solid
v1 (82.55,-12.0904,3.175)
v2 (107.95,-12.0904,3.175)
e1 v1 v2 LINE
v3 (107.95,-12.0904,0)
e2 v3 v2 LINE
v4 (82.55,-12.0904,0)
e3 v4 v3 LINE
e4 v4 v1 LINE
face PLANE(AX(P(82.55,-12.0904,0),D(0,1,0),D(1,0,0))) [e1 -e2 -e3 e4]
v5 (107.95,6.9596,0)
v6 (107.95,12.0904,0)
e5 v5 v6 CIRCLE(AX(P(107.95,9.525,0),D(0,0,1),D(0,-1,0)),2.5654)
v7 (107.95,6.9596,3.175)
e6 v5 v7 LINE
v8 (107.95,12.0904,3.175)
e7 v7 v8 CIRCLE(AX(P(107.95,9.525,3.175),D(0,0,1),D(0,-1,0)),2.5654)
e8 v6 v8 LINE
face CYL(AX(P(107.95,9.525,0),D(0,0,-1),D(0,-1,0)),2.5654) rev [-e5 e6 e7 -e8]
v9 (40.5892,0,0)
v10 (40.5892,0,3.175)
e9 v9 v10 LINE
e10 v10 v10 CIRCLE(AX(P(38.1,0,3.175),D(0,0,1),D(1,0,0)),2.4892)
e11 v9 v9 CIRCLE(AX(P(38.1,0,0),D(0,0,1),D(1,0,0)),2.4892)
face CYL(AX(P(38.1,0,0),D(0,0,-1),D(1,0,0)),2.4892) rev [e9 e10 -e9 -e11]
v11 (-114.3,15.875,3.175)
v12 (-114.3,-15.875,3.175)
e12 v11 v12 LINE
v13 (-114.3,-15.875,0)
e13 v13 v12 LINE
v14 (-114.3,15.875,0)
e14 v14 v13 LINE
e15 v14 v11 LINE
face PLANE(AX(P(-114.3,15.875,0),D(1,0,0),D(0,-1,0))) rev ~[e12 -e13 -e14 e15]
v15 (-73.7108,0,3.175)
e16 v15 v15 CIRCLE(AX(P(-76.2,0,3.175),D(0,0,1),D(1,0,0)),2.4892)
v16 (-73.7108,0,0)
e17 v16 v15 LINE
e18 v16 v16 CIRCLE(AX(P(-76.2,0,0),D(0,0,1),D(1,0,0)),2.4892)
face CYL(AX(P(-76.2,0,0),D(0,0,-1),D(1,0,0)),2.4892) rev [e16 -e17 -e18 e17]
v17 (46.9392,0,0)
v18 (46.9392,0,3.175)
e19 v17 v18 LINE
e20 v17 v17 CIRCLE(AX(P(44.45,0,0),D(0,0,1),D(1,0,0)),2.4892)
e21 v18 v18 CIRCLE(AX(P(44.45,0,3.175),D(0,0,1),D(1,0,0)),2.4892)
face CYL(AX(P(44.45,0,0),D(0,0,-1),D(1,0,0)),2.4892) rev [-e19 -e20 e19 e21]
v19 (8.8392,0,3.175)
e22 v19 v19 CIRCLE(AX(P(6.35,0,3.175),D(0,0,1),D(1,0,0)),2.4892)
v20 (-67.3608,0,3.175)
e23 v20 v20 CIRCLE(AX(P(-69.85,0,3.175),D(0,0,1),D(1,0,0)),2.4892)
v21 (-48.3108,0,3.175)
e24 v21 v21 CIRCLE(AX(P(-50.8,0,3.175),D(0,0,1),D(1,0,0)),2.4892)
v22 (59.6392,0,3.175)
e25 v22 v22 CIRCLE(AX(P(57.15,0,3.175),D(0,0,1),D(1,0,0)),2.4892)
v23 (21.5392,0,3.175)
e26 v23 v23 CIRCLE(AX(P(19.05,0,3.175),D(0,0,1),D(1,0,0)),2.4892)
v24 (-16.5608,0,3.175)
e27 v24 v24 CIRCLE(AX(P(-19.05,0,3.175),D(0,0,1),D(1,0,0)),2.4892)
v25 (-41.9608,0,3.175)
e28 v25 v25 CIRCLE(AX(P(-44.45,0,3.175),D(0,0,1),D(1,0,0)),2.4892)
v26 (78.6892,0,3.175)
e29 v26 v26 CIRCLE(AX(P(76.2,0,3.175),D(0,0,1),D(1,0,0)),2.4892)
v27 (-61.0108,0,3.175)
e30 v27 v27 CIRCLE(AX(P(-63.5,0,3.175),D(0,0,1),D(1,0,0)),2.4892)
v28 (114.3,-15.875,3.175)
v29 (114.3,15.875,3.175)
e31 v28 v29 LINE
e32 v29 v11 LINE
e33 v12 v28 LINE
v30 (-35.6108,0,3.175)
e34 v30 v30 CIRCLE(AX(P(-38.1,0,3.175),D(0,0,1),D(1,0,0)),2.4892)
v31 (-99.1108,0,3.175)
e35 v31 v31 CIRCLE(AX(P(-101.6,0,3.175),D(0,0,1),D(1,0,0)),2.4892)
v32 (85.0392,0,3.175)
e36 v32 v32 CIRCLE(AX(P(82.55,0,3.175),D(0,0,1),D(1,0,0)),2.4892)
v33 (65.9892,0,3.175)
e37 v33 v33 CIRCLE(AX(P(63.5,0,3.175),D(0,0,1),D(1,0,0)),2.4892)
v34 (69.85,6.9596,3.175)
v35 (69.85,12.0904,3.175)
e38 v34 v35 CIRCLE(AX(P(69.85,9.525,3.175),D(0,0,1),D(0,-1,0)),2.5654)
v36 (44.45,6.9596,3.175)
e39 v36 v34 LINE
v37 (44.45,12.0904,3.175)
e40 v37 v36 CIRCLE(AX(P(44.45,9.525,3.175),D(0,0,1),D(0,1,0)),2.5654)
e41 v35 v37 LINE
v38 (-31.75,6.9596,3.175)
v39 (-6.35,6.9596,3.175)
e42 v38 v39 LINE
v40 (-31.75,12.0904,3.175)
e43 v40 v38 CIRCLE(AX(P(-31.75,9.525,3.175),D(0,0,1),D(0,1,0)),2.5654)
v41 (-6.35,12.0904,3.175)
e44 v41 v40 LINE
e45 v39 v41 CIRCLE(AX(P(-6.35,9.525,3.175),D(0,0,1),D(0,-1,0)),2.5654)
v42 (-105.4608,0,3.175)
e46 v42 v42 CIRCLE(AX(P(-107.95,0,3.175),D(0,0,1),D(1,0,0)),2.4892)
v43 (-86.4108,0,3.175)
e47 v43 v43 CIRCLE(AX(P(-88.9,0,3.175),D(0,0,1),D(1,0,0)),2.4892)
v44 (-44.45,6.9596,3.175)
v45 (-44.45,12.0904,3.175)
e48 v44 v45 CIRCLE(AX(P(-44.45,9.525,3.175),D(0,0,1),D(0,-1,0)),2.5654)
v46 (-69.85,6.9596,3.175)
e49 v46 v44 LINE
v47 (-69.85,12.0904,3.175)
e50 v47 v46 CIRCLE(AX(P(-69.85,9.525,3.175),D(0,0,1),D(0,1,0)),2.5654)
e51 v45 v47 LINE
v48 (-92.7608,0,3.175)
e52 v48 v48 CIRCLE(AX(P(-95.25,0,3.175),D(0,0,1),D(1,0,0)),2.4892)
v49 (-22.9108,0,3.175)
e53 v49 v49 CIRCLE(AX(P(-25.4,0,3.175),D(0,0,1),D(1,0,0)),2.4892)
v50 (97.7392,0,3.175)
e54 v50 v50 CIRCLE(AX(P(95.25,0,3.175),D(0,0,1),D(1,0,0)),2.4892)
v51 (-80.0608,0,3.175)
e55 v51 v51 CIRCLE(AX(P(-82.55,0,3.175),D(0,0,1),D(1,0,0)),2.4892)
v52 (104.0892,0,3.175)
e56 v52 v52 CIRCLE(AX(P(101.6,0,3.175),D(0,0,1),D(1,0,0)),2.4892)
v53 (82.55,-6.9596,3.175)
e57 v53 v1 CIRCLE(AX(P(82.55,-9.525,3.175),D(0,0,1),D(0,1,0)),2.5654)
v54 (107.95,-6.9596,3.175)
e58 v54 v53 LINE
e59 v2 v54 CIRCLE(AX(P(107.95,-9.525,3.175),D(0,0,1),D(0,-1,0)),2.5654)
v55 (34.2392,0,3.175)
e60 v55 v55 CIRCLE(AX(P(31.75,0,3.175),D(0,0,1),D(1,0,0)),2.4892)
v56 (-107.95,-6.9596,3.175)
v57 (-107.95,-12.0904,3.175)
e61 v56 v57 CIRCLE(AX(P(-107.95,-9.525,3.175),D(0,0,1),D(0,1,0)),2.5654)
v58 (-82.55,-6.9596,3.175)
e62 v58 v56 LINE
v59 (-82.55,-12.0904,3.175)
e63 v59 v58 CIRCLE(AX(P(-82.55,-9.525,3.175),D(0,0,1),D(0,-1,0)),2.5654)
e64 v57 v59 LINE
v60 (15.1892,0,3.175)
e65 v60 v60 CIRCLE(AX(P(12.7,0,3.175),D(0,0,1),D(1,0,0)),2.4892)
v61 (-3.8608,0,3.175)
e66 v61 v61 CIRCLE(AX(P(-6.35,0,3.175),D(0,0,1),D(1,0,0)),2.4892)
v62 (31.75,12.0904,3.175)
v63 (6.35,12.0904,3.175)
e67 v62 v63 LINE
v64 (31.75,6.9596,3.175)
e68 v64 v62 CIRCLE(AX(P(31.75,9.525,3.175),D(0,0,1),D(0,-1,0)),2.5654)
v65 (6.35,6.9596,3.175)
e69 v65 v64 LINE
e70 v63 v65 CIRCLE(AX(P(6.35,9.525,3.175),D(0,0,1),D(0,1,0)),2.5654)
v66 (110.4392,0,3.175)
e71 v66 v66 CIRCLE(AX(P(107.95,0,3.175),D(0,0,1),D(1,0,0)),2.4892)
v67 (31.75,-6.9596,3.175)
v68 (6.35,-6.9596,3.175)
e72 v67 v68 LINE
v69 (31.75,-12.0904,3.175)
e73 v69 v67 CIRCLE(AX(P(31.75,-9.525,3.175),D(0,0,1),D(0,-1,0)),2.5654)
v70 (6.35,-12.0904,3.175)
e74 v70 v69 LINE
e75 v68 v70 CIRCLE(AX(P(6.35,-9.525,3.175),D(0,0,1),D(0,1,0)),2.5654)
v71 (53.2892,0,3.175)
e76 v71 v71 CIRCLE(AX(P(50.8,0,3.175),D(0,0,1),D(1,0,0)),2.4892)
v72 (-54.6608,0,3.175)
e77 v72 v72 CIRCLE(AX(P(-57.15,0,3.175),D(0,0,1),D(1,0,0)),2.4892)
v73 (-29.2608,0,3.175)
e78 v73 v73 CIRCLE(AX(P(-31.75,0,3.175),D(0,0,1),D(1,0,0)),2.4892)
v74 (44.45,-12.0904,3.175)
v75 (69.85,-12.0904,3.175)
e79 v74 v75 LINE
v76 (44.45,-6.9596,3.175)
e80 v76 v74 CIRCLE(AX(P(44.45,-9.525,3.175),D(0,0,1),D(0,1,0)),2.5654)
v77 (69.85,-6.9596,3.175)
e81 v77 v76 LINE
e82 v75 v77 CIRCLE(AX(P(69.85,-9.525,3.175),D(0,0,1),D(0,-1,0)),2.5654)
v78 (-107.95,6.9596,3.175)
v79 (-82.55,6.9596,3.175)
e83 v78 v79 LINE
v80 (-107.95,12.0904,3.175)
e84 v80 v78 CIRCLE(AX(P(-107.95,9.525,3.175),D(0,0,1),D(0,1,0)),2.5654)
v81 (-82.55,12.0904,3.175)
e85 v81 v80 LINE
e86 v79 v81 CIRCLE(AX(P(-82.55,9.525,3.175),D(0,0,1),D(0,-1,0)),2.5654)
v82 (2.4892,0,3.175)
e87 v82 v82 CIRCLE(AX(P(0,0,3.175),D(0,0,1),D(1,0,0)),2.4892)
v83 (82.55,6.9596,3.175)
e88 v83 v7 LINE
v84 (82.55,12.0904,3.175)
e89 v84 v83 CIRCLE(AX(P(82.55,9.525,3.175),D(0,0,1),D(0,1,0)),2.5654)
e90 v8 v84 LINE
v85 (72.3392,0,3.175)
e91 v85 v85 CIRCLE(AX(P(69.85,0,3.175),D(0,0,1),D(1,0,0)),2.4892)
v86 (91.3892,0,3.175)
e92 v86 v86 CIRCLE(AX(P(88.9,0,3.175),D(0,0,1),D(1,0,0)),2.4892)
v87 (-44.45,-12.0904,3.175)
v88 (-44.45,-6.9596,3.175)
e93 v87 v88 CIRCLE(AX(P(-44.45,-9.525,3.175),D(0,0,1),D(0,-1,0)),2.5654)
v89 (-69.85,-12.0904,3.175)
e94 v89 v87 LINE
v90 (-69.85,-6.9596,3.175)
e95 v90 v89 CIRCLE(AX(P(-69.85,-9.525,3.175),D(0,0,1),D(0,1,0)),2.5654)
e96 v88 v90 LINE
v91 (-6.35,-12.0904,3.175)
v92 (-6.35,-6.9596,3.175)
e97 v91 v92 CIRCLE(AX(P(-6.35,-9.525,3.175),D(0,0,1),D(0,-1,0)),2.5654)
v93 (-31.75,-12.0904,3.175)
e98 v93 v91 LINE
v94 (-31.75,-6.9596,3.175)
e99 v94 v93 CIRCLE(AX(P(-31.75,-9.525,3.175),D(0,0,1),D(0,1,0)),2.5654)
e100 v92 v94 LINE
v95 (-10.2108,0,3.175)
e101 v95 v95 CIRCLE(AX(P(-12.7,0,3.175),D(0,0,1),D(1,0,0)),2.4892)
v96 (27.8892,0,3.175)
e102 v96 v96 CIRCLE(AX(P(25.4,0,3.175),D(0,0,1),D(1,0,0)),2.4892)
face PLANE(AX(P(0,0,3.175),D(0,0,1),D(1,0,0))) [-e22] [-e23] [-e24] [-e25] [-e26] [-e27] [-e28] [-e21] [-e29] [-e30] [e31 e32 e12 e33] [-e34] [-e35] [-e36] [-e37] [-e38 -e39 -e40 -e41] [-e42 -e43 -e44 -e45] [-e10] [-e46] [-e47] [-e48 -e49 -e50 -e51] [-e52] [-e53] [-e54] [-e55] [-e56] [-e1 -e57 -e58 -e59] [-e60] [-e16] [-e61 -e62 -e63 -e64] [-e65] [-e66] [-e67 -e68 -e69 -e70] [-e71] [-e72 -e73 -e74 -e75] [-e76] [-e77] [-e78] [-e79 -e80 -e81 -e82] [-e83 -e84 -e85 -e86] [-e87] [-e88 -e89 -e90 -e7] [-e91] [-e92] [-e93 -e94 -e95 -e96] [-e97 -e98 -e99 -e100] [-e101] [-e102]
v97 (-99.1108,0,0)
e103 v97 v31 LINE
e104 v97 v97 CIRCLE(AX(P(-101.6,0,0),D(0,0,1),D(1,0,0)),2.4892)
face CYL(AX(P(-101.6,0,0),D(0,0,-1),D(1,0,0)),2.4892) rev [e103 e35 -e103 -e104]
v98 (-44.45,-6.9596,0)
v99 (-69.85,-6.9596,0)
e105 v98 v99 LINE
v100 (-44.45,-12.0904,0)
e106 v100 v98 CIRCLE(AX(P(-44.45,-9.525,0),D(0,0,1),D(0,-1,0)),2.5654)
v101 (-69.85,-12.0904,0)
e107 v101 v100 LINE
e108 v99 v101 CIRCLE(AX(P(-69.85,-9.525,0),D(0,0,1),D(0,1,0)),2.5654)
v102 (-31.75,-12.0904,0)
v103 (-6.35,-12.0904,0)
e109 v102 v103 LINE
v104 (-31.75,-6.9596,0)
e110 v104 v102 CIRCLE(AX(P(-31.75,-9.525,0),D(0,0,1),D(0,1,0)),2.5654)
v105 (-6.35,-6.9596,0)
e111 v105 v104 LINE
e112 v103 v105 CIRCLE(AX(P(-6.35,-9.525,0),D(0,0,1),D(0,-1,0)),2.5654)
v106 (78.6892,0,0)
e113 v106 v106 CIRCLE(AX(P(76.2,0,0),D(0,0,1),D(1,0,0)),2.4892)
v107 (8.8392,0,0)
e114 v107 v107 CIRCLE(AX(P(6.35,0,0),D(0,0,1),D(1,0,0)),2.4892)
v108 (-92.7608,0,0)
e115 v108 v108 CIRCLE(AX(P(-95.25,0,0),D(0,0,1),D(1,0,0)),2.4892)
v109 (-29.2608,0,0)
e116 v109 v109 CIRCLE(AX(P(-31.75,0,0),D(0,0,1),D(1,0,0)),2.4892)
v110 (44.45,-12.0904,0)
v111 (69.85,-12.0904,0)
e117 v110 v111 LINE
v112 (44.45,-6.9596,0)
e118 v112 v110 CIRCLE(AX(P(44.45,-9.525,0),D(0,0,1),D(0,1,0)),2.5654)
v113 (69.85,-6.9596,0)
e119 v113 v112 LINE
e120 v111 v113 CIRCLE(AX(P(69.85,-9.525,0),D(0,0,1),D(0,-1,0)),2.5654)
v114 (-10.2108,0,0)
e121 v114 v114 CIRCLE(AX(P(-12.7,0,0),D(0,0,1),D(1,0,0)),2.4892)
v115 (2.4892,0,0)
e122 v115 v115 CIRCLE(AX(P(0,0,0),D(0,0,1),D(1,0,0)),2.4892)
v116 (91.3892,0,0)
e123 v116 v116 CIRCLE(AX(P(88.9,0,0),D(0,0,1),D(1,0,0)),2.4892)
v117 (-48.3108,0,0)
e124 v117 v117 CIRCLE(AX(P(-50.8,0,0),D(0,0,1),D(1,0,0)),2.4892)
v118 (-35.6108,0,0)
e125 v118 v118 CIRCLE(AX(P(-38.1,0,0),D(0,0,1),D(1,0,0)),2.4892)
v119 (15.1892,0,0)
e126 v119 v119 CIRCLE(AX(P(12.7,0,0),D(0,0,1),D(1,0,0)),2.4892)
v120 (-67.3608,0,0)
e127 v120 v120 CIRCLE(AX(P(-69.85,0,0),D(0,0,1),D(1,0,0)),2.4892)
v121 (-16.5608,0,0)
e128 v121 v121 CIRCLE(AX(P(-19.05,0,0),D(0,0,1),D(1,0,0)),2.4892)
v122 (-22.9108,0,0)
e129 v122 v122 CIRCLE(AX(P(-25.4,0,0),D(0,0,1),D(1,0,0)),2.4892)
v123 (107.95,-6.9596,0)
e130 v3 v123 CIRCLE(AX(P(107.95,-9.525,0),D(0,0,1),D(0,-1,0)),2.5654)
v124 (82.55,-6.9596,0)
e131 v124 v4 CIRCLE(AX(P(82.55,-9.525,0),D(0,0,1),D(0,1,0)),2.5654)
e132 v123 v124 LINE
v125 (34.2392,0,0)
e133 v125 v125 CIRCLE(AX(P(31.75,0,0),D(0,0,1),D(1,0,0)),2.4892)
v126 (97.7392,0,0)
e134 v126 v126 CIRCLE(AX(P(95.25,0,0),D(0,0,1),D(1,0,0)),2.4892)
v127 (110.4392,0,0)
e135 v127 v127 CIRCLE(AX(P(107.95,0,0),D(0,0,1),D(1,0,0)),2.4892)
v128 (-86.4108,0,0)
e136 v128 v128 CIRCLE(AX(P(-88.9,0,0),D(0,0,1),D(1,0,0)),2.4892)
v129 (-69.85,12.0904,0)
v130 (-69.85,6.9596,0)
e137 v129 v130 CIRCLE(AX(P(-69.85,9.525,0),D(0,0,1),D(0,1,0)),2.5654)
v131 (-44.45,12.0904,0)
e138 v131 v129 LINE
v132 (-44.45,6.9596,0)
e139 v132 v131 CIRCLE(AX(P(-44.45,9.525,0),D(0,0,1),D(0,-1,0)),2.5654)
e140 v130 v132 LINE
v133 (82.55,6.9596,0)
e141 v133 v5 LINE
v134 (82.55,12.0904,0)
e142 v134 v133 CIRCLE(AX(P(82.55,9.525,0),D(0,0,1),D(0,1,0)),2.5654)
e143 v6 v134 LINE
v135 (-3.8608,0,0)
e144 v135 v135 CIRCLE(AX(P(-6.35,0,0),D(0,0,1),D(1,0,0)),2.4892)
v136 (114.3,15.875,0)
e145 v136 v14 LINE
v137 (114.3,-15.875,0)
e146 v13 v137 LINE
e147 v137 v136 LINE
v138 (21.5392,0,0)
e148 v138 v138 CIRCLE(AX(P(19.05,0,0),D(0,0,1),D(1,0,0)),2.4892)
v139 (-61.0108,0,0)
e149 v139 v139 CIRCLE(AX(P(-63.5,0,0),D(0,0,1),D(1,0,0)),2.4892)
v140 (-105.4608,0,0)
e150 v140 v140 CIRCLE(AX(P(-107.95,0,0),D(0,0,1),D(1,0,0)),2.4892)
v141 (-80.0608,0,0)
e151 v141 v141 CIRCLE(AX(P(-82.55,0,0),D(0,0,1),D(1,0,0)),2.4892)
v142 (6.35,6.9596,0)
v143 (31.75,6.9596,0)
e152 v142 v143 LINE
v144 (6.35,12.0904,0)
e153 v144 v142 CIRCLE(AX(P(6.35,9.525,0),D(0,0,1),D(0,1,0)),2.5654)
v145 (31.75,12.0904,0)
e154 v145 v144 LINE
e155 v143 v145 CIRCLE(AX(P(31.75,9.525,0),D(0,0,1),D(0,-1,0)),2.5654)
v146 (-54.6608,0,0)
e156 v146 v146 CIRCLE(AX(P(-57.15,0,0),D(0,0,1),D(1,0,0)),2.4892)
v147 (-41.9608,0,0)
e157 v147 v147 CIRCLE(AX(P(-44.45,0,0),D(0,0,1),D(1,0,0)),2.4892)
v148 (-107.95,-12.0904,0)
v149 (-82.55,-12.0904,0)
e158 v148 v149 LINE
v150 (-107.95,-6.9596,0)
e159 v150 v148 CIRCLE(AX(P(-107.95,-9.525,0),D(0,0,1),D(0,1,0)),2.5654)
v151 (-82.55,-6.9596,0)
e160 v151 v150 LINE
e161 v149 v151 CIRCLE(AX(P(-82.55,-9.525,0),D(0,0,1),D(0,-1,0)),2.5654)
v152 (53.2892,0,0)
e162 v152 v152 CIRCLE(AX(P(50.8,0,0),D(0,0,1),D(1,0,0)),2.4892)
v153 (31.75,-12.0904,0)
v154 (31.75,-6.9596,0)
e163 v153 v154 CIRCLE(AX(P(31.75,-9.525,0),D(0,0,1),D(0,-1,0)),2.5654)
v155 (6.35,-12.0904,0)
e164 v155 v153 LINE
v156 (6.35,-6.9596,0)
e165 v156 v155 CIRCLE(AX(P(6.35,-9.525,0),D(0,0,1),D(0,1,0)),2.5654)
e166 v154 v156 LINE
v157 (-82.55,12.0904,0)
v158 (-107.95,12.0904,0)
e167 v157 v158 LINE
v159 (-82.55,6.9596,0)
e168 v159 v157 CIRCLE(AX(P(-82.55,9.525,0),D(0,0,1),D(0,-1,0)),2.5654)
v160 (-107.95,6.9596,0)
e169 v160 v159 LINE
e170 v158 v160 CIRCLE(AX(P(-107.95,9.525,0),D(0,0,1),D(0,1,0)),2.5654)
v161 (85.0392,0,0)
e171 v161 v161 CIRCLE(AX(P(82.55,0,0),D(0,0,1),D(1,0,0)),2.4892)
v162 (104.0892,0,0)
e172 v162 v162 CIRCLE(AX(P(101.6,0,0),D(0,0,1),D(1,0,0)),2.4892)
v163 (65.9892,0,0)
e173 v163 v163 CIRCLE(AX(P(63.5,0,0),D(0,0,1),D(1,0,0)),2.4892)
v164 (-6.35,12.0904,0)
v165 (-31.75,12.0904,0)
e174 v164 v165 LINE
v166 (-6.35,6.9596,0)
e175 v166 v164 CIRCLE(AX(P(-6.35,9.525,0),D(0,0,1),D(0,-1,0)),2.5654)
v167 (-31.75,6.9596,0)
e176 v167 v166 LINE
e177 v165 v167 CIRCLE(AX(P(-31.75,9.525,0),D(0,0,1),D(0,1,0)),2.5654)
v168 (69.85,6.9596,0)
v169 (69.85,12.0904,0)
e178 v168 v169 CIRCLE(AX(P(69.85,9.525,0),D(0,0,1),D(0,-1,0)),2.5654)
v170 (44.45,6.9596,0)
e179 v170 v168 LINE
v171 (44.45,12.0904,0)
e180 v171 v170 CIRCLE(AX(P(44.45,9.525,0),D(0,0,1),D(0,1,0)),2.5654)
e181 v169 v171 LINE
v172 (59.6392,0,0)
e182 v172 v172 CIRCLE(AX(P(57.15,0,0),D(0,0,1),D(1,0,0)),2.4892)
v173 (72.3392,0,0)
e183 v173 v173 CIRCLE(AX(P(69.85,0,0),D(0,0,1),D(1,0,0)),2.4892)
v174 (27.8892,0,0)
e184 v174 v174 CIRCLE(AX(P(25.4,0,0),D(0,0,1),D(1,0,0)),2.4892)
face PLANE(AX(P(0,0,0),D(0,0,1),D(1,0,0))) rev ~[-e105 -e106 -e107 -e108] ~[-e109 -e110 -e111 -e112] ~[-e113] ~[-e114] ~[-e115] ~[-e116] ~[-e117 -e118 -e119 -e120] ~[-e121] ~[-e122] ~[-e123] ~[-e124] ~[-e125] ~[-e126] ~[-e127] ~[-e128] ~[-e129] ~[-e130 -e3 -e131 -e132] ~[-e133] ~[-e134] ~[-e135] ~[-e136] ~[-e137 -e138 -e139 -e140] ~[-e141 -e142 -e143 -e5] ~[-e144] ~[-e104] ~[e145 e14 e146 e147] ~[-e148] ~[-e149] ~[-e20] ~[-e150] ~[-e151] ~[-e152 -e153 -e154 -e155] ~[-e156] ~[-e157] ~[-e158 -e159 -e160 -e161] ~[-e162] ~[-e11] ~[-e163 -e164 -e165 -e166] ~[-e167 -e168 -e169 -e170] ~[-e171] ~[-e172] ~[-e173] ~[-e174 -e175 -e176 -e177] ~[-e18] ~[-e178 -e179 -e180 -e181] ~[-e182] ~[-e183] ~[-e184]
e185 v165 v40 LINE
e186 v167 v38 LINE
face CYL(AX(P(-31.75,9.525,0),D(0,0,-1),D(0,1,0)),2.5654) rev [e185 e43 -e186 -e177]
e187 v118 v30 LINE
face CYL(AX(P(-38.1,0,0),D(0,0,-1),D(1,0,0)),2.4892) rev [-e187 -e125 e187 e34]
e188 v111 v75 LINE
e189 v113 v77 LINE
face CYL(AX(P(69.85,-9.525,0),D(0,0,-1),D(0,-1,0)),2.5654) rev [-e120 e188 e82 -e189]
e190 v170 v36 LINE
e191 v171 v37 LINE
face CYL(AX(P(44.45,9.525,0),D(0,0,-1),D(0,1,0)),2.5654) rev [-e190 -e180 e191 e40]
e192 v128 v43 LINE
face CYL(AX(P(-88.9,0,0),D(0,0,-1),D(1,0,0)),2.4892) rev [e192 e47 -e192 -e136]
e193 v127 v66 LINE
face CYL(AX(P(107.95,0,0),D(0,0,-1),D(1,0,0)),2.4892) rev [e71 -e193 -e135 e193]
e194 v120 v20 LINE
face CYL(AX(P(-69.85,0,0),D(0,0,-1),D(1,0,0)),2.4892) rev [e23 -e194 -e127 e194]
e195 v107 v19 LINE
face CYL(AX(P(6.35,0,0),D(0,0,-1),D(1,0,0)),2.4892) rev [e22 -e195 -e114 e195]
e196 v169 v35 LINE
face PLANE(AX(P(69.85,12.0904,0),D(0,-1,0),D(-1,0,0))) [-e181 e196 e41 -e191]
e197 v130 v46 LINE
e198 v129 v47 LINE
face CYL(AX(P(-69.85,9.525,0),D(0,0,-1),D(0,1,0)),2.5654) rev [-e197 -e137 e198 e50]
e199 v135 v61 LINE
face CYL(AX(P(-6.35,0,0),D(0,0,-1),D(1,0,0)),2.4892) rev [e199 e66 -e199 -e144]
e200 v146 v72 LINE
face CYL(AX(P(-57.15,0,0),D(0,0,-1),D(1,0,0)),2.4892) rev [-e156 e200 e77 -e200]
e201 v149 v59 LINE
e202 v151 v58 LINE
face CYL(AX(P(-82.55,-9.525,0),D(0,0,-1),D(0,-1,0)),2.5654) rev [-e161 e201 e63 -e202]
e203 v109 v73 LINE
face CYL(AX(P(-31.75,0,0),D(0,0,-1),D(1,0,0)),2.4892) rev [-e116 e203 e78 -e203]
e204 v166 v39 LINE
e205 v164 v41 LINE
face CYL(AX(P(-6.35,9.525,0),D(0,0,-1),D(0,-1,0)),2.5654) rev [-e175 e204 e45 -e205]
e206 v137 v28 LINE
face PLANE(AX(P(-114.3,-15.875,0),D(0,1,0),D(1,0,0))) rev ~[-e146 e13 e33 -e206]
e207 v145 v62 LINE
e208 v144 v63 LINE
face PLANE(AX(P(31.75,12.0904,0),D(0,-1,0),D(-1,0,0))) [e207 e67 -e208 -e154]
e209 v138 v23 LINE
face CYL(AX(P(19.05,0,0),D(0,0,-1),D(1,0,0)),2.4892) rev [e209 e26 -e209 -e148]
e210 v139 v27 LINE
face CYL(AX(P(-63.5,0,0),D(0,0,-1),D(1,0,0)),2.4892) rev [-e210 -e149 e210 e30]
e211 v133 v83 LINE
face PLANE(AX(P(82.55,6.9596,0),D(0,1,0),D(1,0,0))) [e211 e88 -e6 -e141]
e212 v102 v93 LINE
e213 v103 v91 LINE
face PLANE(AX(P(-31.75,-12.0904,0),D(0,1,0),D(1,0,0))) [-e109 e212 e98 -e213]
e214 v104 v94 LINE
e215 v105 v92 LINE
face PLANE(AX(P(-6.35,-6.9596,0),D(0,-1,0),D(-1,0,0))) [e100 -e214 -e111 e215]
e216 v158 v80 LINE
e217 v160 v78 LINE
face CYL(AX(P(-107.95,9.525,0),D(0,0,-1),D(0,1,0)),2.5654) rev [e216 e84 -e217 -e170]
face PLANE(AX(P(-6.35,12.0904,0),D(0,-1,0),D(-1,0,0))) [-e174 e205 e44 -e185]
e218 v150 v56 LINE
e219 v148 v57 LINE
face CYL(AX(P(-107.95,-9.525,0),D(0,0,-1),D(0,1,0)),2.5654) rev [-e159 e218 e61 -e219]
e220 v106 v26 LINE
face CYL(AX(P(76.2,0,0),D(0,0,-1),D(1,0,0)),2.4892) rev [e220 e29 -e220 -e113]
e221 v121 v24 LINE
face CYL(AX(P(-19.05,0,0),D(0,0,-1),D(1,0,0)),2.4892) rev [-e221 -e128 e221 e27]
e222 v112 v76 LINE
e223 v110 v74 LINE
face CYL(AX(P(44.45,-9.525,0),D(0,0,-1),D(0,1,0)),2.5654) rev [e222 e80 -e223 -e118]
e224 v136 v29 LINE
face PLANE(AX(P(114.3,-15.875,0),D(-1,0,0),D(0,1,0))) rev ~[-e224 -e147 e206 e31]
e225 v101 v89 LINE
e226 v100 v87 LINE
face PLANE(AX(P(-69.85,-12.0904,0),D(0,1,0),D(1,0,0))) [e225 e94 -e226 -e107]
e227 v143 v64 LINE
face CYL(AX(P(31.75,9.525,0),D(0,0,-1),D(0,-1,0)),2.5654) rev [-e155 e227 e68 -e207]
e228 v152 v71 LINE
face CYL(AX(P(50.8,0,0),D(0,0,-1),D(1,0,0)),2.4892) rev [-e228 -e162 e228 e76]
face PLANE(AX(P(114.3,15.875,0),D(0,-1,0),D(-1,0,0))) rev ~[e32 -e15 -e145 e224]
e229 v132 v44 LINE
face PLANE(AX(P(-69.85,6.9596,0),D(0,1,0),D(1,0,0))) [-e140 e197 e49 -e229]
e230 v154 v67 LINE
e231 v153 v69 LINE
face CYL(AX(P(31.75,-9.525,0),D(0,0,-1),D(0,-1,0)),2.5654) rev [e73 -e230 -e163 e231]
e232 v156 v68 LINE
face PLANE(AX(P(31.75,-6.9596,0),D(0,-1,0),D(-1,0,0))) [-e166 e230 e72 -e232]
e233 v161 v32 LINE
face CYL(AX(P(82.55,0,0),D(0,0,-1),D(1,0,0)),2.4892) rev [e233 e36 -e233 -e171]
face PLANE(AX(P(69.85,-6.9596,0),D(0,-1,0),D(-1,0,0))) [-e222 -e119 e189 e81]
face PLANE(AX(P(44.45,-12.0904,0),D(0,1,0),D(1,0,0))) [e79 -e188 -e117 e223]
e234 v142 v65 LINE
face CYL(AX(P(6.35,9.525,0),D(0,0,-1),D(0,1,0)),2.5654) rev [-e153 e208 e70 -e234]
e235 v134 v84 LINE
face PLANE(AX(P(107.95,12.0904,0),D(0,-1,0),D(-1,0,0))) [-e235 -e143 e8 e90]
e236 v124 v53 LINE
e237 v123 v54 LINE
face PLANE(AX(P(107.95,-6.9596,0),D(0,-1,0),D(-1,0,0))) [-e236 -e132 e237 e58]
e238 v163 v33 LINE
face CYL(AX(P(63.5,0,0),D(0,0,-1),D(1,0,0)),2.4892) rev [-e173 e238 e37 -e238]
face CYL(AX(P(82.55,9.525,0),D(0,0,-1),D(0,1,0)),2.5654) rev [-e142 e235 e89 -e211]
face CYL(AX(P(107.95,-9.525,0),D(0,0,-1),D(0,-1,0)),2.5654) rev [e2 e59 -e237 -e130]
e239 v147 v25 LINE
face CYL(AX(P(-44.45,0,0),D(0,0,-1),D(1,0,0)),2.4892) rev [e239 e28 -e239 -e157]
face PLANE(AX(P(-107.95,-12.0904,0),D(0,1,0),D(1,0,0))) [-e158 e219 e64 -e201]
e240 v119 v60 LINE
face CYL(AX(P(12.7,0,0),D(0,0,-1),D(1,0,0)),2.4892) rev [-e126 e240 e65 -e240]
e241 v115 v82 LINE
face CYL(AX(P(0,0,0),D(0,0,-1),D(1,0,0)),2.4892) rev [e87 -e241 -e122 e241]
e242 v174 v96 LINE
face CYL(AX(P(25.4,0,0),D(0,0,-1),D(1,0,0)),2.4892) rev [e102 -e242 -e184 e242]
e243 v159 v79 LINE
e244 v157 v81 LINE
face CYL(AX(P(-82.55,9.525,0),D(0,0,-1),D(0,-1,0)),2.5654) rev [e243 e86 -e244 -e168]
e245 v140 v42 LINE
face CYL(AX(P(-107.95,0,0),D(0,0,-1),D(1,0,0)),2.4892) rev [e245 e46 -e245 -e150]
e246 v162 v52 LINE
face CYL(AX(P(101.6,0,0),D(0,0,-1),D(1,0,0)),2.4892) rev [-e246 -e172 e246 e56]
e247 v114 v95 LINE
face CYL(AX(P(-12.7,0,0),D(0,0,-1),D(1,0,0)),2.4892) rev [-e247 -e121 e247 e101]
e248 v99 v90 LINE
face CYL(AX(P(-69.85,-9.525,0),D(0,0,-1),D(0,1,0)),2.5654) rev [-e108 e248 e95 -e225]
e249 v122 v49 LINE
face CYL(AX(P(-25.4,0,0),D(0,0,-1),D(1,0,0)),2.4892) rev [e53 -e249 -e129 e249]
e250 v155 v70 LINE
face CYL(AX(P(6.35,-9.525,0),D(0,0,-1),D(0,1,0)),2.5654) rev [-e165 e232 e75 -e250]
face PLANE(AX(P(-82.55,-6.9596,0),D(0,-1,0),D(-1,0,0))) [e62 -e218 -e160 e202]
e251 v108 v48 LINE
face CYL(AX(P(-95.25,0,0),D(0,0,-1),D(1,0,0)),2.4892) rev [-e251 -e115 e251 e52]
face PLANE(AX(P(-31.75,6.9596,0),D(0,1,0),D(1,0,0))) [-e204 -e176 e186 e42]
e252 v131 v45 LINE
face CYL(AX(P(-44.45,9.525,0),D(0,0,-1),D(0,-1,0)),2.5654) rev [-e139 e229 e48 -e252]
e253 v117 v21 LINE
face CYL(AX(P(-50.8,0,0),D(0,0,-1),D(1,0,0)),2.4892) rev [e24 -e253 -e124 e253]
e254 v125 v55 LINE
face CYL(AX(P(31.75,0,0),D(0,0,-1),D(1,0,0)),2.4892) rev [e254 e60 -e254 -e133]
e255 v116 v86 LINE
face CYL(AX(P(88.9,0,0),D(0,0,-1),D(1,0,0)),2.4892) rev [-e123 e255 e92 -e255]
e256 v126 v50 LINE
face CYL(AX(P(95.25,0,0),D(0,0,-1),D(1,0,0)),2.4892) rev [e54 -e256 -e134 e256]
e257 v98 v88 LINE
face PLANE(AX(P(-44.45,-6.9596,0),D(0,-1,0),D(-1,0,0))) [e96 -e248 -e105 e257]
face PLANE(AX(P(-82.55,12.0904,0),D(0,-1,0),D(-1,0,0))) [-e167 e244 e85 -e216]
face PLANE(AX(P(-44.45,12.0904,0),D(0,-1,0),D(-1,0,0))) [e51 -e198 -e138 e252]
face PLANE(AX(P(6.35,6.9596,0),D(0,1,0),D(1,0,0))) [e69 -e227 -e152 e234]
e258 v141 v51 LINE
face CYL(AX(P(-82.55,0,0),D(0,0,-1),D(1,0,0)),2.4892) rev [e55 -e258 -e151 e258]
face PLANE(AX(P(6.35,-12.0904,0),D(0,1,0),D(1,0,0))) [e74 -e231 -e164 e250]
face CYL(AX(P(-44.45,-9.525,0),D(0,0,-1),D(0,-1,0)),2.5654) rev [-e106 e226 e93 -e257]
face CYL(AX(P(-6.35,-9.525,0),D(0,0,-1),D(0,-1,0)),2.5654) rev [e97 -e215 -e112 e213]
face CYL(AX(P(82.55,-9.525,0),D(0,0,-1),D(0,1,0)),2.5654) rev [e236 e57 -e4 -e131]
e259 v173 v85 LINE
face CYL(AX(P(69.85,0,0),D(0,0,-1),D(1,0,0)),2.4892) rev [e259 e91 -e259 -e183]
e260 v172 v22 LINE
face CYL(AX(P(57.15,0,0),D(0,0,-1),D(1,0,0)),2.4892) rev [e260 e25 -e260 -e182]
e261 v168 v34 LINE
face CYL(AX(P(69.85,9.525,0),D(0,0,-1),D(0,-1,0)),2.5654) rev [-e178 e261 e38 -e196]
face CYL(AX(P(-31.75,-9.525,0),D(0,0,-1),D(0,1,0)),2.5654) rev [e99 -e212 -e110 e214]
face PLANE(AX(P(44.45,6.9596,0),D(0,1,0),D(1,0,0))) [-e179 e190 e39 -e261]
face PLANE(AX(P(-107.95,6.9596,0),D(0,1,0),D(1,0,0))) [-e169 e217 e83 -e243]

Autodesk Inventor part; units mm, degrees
ref_plane "YZ Plane" through (0, 0, 0) normal (1, 0, 0) x (0, 1, 0)
ref_plane "XZ Plane" through (0, 0, 0) normal (0, 1, 0) x (-1, 0, 0)
ref_plane "XY Plane" through (0, 0, 0) normal (0, 0, 1) x (1, 0, 0)
sketch "Sketch1" plane through (0, 0, 0) normal (0, 0, 1) x (1, 0, 0)
  line L0 (-114.3, -15.875) -> (114.3, -15.875)
  line L1 (114.3, -15.875) -> (114.3, 15.875)
  line L2 (114.3, 15.875) -> (-114.3, 15.875)
  line L3 (-114.3, 15.875) -> (-114.3, -15.875)
  line L4 (-114.3, -15.875) -> (114.3, 15.875) construction
  line L5 (114.3, -15.875) -> (-114.3, 15.875) construction
  line L6 (-107.95, 9.525) -> (-82.55, 9.525) construction
  line L7 (-107.95, 6.9596) -> (-82.55, 6.9596)
  line L8 (-82.55, 12.0904) -> (-107.95, 12.0904)
  arc A0 (-107.95, 12.0904) -> (-107.95, 6.9596) centre (-107.95, 9.525) ccw
  arc A1 (-82.55, 6.9596) -> (-82.55, 12.0904) centre (-82.55, 9.525) ccw
  line L9 (-69.85, 9.525) -> (-44.45, 9.525) construction
  line L10 (-69.85, 6.9596) -> (-44.45, 6.9596)
  line L11 (-44.45, 12.0904) -> (-69.85, 12.0904)
  arc A2 (-69.85, 12.0904) -> (-69.85, 6.9596) centre (-69.85, 9.525) ccw
  arc A3 (-44.45, 6.9596) -> (-44.45, 12.0904) centre (-44.45, 9.525) ccw
  line L12 (-31.75, 9.525) -> (-6.35, 9.525) construction
  line L13 (-31.75, 6.9596) -> (-6.35, 6.9596)
  line L14 (-6.35, 12.0904) -> (-31.75, 12.0904)
  arc A4 (-31.75, 12.0904) -> (-31.75, 6.9596) centre (-31.75, 9.525) ccw
  arc A5 (-6.35, 6.9596) -> (-6.35, 12.0904) centre (-6.35, 9.525) ccw
  line L15 (6.35, 9.525) -> (31.75, 9.525) construction
  line L16 (6.35, 6.9596) -> (31.75, 6.9596)
  line L17 (31.75, 12.0904) -> (6.35, 12.0904)
  arc A6 (6.35, 12.0904) -> (6.35, 6.9596) centre (6.35, 9.525) ccw
  arc A7 (31.75, 6.9596) -> (31.75, 12.0904) centre (31.75, 9.525) ccw
  line L18 (44.45, 9.525) -> (69.85, 9.525) construction
  line L19 (44.45, 6.9596) -> (69.85, 6.9596)
  line L20 (69.85, 12.0904) -> (44.45, 12.0904)
  arc A8 (44.45, 12.0904) -> (44.45, 6.9596) centre (44.45, 9.525) ccw
  arc A9 (69.85, 6.9596) -> (69.85, 12.0904) centre (69.85, 9.525) ccw
  line L21 (82.55, 9.525) -> (107.95, 9.525) construction
  line L22 (82.55, 6.9596) -> (107.95, 6.9596)
  line L23 (107.95, 12.0904) -> (82.55, 12.0904)
  arc A10 (82.55, 12.0904) -> (82.55, 6.9596) centre (82.55, 9.525) ccw
  arc A11 (107.95, 6.9596) -> (107.95, 12.0904) centre (107.95, 9.525) ccw
  line L24 (-107.95, -9.525) -> (-82.55, -9.525) construction
  line L25 (-107.95, -12.0904) -> (-82.55, -12.0904)
  line L26 (-82.55, -6.9596) -> (-107.95, -6.9596)
  arc A12 (-107.95, -6.9596) -> (-107.95, -12.0904) centre (-107.95, -9.525) ccw
  arc A13 (-82.55, -12.0904) -> (-82.55, -6.9596) centre (-82.55, -9.525) ccw
  line L27 (-69.85, -9.525) -> (-44.45, -9.525) construction
  line L28 (-69.85, -12.0904) -> (-44.45, -12.0904)
  line L29 (-44.45, -6.9596) -> (-69.85, -6.9596)
  arc A14 (-69.85, -6.9596) -> (-69.85, -12.0904) centre (-69.85, -9.525) ccw
  arc A15 (-44.45, -12.0904) -> (-44.45, -6.9596) centre (-44.45, -9.525) ccw
  line L30 (-31.75, -9.525) -> (-6.35, -9.525) construction
  line L31 (-31.75, -12.0904) -> (-6.35, -12.0904)
  line L32 (-6.35, -6.9596) -> (-31.75, -6.9596)
  arc A16 (-31.75, -6.9596) -> (-31.75, -12.0904) centre (-31.75, -9.525) ccw
  arc A17 (-6.35, -12.0904) -> (-6.35, -6.9596) centre (-6.35, -9.525) ccw
  line L33 (6.35, -9.525) -> (31.75, -9.525) construction
  line L34 (6.35, -12.0904) -> (31.75, -12.0904)
  line L35 (31.75, -6.9596) -> (6.35, -6.9596)
  arc A18 (6.35, -6.9596) -> (6.35, -12.0904) centre (6.35, -9.525) ccw
  arc A19 (31.75, -12.0904) -> (31.75, -6.9596) centre (31.75, -9.525) ccw
  line L36 (44.45, -9.525) -> (69.85, -9.525) construction
  line L37 (44.45, -12.0904) -> (69.85, -12.0904)
  line L38 (69.85, -6.9596) -> (44.45, -6.9596)
  arc A20 (44.45, -6.9596) -> (44.45, -12.0904) centre (44.45, -9.525) ccw
  arc A21 (69.85, -12.0904) -> (69.85, -6.9596) centre (69.85, -9.525) ccw
  line L39 (82.55, -9.525) -> (107.95, -9.525) construction
  line L40 (82.55, -12.0904) -> (107.95, -12.0904)
  line L41 (107.95, -6.9596) -> (82.55, -6.9596)
  arc A22 (82.55, -6.9596) -> (82.55, -12.0904) centre (82.55, -9.525) ccw
  arc A23 (107.95, -12.0904) -> (107.95, -6.9596) centre (107.95, -9.525) ccw
  circle A24 centre (-107.95, 0) radius 2.4892
  circle A25 centre (-101.6, 0) radius 2.4892
  circle A26 centre (-95.25, 0) radius 2.4892
  circle A27 centre (-88.9, 0) radius 2.4892
  circle A28 centre (-82.55, 0) radius 2.4892
  circle A29 centre (-76.2, 0) radius 2.4892
  circle A30 centre (-69.85, 0) radius 2.4892
  circle A31 centre (-63.5, 0) radius 2.4892
  circle A32 centre (-57.15, 0) radius 2.4892
  circle A33 centre (-50.8, 0) radius 2.4892
  circle A34 centre (-44.45, 0) radius 2.4892
  circle A35 centre (-38.1, 0) radius 2.4892
  circle A36 centre (-31.75, 0) radius 2.4892
  circle A37 centre (-25.4, 0) radius 2.4892
  circle A38 centre (-19.05, 0) radius 2.4892
  circle A39 centre (-12.7, 0) radius 2.4892
  circle A40 centre (-6.35, 0) radius 2.4892
  circle A41 centre (0, 0) radius 2.4892
  circle A42 centre (6.35, 0) radius 2.4892
  circle A43 centre (12.7, 0) radius 2.4892
  circle A44 centre (19.05, 0) radius 2.4892
  circle A45 centre (25.4, 0) radius 2.4892
  circle A46 centre (31.75, 0) radius 2.4892
  circle A47 centre (38.1, 0) radius 2.4892
  circle A48 centre (44.45, 0) radius 2.4892
  circle A49 centre (50.8, 0) radius 2.4892
  circle A50 centre (57.15, 0) radius 2.4892
  circle A51 centre (63.5, 0) radius 2.4892
  circle A52 centre (69.85, 0) radius 2.4892
  circle A53 centre (76.2, 0) radius 2.4892
  circle A54 centre (82.55, 0) radius 2.4892
  circle A55 centre (88.9, 0) radius 2.4892
  circle A56 centre (95.25, 0) radius 2.4892
  circle A57 centre (101.6, 0) radius 2.4892
  circle A58 centre (107.95, 0) radius 2.4892
  point P0 (0, 0)
  point P1 (-95.25, 9.525)
  point P2 (-57.15, 9.525)
  point P3 (-19.05, 9.525)
  point P4 (19.05, 9.525)
  point P5 (57.15, 9.525)
  point P6 (95.25, 9.525)
  point P7 (-95.25, -9.525)
  point P8 (-57.15, -9.525)
  point P9 (-19.05, -9.525)
  point P10 (19.05, -9.525)
  point P11 (57.15, -9.525)
  point P12 (95.25, -9.525)
  dimension "d0" = 228.6
  dimension "d1" = 31.75
  dimension "d2" = 2.5654
  dimension "d3" = 25.4
  dimension "d4" = 6.35
  dimension "d5" = 6.35
  dimension "d8" = 38.1
  dimension "d11" = 19.05
  dimension "d14" = 6.35
  dimension "d17" = 6.35
  dimension "d22" = 4.9784
extrude "Extrusion1" add sketch "Sketch1" along normal blind 3.175
properties part number "QuickPrototypeplateB"
